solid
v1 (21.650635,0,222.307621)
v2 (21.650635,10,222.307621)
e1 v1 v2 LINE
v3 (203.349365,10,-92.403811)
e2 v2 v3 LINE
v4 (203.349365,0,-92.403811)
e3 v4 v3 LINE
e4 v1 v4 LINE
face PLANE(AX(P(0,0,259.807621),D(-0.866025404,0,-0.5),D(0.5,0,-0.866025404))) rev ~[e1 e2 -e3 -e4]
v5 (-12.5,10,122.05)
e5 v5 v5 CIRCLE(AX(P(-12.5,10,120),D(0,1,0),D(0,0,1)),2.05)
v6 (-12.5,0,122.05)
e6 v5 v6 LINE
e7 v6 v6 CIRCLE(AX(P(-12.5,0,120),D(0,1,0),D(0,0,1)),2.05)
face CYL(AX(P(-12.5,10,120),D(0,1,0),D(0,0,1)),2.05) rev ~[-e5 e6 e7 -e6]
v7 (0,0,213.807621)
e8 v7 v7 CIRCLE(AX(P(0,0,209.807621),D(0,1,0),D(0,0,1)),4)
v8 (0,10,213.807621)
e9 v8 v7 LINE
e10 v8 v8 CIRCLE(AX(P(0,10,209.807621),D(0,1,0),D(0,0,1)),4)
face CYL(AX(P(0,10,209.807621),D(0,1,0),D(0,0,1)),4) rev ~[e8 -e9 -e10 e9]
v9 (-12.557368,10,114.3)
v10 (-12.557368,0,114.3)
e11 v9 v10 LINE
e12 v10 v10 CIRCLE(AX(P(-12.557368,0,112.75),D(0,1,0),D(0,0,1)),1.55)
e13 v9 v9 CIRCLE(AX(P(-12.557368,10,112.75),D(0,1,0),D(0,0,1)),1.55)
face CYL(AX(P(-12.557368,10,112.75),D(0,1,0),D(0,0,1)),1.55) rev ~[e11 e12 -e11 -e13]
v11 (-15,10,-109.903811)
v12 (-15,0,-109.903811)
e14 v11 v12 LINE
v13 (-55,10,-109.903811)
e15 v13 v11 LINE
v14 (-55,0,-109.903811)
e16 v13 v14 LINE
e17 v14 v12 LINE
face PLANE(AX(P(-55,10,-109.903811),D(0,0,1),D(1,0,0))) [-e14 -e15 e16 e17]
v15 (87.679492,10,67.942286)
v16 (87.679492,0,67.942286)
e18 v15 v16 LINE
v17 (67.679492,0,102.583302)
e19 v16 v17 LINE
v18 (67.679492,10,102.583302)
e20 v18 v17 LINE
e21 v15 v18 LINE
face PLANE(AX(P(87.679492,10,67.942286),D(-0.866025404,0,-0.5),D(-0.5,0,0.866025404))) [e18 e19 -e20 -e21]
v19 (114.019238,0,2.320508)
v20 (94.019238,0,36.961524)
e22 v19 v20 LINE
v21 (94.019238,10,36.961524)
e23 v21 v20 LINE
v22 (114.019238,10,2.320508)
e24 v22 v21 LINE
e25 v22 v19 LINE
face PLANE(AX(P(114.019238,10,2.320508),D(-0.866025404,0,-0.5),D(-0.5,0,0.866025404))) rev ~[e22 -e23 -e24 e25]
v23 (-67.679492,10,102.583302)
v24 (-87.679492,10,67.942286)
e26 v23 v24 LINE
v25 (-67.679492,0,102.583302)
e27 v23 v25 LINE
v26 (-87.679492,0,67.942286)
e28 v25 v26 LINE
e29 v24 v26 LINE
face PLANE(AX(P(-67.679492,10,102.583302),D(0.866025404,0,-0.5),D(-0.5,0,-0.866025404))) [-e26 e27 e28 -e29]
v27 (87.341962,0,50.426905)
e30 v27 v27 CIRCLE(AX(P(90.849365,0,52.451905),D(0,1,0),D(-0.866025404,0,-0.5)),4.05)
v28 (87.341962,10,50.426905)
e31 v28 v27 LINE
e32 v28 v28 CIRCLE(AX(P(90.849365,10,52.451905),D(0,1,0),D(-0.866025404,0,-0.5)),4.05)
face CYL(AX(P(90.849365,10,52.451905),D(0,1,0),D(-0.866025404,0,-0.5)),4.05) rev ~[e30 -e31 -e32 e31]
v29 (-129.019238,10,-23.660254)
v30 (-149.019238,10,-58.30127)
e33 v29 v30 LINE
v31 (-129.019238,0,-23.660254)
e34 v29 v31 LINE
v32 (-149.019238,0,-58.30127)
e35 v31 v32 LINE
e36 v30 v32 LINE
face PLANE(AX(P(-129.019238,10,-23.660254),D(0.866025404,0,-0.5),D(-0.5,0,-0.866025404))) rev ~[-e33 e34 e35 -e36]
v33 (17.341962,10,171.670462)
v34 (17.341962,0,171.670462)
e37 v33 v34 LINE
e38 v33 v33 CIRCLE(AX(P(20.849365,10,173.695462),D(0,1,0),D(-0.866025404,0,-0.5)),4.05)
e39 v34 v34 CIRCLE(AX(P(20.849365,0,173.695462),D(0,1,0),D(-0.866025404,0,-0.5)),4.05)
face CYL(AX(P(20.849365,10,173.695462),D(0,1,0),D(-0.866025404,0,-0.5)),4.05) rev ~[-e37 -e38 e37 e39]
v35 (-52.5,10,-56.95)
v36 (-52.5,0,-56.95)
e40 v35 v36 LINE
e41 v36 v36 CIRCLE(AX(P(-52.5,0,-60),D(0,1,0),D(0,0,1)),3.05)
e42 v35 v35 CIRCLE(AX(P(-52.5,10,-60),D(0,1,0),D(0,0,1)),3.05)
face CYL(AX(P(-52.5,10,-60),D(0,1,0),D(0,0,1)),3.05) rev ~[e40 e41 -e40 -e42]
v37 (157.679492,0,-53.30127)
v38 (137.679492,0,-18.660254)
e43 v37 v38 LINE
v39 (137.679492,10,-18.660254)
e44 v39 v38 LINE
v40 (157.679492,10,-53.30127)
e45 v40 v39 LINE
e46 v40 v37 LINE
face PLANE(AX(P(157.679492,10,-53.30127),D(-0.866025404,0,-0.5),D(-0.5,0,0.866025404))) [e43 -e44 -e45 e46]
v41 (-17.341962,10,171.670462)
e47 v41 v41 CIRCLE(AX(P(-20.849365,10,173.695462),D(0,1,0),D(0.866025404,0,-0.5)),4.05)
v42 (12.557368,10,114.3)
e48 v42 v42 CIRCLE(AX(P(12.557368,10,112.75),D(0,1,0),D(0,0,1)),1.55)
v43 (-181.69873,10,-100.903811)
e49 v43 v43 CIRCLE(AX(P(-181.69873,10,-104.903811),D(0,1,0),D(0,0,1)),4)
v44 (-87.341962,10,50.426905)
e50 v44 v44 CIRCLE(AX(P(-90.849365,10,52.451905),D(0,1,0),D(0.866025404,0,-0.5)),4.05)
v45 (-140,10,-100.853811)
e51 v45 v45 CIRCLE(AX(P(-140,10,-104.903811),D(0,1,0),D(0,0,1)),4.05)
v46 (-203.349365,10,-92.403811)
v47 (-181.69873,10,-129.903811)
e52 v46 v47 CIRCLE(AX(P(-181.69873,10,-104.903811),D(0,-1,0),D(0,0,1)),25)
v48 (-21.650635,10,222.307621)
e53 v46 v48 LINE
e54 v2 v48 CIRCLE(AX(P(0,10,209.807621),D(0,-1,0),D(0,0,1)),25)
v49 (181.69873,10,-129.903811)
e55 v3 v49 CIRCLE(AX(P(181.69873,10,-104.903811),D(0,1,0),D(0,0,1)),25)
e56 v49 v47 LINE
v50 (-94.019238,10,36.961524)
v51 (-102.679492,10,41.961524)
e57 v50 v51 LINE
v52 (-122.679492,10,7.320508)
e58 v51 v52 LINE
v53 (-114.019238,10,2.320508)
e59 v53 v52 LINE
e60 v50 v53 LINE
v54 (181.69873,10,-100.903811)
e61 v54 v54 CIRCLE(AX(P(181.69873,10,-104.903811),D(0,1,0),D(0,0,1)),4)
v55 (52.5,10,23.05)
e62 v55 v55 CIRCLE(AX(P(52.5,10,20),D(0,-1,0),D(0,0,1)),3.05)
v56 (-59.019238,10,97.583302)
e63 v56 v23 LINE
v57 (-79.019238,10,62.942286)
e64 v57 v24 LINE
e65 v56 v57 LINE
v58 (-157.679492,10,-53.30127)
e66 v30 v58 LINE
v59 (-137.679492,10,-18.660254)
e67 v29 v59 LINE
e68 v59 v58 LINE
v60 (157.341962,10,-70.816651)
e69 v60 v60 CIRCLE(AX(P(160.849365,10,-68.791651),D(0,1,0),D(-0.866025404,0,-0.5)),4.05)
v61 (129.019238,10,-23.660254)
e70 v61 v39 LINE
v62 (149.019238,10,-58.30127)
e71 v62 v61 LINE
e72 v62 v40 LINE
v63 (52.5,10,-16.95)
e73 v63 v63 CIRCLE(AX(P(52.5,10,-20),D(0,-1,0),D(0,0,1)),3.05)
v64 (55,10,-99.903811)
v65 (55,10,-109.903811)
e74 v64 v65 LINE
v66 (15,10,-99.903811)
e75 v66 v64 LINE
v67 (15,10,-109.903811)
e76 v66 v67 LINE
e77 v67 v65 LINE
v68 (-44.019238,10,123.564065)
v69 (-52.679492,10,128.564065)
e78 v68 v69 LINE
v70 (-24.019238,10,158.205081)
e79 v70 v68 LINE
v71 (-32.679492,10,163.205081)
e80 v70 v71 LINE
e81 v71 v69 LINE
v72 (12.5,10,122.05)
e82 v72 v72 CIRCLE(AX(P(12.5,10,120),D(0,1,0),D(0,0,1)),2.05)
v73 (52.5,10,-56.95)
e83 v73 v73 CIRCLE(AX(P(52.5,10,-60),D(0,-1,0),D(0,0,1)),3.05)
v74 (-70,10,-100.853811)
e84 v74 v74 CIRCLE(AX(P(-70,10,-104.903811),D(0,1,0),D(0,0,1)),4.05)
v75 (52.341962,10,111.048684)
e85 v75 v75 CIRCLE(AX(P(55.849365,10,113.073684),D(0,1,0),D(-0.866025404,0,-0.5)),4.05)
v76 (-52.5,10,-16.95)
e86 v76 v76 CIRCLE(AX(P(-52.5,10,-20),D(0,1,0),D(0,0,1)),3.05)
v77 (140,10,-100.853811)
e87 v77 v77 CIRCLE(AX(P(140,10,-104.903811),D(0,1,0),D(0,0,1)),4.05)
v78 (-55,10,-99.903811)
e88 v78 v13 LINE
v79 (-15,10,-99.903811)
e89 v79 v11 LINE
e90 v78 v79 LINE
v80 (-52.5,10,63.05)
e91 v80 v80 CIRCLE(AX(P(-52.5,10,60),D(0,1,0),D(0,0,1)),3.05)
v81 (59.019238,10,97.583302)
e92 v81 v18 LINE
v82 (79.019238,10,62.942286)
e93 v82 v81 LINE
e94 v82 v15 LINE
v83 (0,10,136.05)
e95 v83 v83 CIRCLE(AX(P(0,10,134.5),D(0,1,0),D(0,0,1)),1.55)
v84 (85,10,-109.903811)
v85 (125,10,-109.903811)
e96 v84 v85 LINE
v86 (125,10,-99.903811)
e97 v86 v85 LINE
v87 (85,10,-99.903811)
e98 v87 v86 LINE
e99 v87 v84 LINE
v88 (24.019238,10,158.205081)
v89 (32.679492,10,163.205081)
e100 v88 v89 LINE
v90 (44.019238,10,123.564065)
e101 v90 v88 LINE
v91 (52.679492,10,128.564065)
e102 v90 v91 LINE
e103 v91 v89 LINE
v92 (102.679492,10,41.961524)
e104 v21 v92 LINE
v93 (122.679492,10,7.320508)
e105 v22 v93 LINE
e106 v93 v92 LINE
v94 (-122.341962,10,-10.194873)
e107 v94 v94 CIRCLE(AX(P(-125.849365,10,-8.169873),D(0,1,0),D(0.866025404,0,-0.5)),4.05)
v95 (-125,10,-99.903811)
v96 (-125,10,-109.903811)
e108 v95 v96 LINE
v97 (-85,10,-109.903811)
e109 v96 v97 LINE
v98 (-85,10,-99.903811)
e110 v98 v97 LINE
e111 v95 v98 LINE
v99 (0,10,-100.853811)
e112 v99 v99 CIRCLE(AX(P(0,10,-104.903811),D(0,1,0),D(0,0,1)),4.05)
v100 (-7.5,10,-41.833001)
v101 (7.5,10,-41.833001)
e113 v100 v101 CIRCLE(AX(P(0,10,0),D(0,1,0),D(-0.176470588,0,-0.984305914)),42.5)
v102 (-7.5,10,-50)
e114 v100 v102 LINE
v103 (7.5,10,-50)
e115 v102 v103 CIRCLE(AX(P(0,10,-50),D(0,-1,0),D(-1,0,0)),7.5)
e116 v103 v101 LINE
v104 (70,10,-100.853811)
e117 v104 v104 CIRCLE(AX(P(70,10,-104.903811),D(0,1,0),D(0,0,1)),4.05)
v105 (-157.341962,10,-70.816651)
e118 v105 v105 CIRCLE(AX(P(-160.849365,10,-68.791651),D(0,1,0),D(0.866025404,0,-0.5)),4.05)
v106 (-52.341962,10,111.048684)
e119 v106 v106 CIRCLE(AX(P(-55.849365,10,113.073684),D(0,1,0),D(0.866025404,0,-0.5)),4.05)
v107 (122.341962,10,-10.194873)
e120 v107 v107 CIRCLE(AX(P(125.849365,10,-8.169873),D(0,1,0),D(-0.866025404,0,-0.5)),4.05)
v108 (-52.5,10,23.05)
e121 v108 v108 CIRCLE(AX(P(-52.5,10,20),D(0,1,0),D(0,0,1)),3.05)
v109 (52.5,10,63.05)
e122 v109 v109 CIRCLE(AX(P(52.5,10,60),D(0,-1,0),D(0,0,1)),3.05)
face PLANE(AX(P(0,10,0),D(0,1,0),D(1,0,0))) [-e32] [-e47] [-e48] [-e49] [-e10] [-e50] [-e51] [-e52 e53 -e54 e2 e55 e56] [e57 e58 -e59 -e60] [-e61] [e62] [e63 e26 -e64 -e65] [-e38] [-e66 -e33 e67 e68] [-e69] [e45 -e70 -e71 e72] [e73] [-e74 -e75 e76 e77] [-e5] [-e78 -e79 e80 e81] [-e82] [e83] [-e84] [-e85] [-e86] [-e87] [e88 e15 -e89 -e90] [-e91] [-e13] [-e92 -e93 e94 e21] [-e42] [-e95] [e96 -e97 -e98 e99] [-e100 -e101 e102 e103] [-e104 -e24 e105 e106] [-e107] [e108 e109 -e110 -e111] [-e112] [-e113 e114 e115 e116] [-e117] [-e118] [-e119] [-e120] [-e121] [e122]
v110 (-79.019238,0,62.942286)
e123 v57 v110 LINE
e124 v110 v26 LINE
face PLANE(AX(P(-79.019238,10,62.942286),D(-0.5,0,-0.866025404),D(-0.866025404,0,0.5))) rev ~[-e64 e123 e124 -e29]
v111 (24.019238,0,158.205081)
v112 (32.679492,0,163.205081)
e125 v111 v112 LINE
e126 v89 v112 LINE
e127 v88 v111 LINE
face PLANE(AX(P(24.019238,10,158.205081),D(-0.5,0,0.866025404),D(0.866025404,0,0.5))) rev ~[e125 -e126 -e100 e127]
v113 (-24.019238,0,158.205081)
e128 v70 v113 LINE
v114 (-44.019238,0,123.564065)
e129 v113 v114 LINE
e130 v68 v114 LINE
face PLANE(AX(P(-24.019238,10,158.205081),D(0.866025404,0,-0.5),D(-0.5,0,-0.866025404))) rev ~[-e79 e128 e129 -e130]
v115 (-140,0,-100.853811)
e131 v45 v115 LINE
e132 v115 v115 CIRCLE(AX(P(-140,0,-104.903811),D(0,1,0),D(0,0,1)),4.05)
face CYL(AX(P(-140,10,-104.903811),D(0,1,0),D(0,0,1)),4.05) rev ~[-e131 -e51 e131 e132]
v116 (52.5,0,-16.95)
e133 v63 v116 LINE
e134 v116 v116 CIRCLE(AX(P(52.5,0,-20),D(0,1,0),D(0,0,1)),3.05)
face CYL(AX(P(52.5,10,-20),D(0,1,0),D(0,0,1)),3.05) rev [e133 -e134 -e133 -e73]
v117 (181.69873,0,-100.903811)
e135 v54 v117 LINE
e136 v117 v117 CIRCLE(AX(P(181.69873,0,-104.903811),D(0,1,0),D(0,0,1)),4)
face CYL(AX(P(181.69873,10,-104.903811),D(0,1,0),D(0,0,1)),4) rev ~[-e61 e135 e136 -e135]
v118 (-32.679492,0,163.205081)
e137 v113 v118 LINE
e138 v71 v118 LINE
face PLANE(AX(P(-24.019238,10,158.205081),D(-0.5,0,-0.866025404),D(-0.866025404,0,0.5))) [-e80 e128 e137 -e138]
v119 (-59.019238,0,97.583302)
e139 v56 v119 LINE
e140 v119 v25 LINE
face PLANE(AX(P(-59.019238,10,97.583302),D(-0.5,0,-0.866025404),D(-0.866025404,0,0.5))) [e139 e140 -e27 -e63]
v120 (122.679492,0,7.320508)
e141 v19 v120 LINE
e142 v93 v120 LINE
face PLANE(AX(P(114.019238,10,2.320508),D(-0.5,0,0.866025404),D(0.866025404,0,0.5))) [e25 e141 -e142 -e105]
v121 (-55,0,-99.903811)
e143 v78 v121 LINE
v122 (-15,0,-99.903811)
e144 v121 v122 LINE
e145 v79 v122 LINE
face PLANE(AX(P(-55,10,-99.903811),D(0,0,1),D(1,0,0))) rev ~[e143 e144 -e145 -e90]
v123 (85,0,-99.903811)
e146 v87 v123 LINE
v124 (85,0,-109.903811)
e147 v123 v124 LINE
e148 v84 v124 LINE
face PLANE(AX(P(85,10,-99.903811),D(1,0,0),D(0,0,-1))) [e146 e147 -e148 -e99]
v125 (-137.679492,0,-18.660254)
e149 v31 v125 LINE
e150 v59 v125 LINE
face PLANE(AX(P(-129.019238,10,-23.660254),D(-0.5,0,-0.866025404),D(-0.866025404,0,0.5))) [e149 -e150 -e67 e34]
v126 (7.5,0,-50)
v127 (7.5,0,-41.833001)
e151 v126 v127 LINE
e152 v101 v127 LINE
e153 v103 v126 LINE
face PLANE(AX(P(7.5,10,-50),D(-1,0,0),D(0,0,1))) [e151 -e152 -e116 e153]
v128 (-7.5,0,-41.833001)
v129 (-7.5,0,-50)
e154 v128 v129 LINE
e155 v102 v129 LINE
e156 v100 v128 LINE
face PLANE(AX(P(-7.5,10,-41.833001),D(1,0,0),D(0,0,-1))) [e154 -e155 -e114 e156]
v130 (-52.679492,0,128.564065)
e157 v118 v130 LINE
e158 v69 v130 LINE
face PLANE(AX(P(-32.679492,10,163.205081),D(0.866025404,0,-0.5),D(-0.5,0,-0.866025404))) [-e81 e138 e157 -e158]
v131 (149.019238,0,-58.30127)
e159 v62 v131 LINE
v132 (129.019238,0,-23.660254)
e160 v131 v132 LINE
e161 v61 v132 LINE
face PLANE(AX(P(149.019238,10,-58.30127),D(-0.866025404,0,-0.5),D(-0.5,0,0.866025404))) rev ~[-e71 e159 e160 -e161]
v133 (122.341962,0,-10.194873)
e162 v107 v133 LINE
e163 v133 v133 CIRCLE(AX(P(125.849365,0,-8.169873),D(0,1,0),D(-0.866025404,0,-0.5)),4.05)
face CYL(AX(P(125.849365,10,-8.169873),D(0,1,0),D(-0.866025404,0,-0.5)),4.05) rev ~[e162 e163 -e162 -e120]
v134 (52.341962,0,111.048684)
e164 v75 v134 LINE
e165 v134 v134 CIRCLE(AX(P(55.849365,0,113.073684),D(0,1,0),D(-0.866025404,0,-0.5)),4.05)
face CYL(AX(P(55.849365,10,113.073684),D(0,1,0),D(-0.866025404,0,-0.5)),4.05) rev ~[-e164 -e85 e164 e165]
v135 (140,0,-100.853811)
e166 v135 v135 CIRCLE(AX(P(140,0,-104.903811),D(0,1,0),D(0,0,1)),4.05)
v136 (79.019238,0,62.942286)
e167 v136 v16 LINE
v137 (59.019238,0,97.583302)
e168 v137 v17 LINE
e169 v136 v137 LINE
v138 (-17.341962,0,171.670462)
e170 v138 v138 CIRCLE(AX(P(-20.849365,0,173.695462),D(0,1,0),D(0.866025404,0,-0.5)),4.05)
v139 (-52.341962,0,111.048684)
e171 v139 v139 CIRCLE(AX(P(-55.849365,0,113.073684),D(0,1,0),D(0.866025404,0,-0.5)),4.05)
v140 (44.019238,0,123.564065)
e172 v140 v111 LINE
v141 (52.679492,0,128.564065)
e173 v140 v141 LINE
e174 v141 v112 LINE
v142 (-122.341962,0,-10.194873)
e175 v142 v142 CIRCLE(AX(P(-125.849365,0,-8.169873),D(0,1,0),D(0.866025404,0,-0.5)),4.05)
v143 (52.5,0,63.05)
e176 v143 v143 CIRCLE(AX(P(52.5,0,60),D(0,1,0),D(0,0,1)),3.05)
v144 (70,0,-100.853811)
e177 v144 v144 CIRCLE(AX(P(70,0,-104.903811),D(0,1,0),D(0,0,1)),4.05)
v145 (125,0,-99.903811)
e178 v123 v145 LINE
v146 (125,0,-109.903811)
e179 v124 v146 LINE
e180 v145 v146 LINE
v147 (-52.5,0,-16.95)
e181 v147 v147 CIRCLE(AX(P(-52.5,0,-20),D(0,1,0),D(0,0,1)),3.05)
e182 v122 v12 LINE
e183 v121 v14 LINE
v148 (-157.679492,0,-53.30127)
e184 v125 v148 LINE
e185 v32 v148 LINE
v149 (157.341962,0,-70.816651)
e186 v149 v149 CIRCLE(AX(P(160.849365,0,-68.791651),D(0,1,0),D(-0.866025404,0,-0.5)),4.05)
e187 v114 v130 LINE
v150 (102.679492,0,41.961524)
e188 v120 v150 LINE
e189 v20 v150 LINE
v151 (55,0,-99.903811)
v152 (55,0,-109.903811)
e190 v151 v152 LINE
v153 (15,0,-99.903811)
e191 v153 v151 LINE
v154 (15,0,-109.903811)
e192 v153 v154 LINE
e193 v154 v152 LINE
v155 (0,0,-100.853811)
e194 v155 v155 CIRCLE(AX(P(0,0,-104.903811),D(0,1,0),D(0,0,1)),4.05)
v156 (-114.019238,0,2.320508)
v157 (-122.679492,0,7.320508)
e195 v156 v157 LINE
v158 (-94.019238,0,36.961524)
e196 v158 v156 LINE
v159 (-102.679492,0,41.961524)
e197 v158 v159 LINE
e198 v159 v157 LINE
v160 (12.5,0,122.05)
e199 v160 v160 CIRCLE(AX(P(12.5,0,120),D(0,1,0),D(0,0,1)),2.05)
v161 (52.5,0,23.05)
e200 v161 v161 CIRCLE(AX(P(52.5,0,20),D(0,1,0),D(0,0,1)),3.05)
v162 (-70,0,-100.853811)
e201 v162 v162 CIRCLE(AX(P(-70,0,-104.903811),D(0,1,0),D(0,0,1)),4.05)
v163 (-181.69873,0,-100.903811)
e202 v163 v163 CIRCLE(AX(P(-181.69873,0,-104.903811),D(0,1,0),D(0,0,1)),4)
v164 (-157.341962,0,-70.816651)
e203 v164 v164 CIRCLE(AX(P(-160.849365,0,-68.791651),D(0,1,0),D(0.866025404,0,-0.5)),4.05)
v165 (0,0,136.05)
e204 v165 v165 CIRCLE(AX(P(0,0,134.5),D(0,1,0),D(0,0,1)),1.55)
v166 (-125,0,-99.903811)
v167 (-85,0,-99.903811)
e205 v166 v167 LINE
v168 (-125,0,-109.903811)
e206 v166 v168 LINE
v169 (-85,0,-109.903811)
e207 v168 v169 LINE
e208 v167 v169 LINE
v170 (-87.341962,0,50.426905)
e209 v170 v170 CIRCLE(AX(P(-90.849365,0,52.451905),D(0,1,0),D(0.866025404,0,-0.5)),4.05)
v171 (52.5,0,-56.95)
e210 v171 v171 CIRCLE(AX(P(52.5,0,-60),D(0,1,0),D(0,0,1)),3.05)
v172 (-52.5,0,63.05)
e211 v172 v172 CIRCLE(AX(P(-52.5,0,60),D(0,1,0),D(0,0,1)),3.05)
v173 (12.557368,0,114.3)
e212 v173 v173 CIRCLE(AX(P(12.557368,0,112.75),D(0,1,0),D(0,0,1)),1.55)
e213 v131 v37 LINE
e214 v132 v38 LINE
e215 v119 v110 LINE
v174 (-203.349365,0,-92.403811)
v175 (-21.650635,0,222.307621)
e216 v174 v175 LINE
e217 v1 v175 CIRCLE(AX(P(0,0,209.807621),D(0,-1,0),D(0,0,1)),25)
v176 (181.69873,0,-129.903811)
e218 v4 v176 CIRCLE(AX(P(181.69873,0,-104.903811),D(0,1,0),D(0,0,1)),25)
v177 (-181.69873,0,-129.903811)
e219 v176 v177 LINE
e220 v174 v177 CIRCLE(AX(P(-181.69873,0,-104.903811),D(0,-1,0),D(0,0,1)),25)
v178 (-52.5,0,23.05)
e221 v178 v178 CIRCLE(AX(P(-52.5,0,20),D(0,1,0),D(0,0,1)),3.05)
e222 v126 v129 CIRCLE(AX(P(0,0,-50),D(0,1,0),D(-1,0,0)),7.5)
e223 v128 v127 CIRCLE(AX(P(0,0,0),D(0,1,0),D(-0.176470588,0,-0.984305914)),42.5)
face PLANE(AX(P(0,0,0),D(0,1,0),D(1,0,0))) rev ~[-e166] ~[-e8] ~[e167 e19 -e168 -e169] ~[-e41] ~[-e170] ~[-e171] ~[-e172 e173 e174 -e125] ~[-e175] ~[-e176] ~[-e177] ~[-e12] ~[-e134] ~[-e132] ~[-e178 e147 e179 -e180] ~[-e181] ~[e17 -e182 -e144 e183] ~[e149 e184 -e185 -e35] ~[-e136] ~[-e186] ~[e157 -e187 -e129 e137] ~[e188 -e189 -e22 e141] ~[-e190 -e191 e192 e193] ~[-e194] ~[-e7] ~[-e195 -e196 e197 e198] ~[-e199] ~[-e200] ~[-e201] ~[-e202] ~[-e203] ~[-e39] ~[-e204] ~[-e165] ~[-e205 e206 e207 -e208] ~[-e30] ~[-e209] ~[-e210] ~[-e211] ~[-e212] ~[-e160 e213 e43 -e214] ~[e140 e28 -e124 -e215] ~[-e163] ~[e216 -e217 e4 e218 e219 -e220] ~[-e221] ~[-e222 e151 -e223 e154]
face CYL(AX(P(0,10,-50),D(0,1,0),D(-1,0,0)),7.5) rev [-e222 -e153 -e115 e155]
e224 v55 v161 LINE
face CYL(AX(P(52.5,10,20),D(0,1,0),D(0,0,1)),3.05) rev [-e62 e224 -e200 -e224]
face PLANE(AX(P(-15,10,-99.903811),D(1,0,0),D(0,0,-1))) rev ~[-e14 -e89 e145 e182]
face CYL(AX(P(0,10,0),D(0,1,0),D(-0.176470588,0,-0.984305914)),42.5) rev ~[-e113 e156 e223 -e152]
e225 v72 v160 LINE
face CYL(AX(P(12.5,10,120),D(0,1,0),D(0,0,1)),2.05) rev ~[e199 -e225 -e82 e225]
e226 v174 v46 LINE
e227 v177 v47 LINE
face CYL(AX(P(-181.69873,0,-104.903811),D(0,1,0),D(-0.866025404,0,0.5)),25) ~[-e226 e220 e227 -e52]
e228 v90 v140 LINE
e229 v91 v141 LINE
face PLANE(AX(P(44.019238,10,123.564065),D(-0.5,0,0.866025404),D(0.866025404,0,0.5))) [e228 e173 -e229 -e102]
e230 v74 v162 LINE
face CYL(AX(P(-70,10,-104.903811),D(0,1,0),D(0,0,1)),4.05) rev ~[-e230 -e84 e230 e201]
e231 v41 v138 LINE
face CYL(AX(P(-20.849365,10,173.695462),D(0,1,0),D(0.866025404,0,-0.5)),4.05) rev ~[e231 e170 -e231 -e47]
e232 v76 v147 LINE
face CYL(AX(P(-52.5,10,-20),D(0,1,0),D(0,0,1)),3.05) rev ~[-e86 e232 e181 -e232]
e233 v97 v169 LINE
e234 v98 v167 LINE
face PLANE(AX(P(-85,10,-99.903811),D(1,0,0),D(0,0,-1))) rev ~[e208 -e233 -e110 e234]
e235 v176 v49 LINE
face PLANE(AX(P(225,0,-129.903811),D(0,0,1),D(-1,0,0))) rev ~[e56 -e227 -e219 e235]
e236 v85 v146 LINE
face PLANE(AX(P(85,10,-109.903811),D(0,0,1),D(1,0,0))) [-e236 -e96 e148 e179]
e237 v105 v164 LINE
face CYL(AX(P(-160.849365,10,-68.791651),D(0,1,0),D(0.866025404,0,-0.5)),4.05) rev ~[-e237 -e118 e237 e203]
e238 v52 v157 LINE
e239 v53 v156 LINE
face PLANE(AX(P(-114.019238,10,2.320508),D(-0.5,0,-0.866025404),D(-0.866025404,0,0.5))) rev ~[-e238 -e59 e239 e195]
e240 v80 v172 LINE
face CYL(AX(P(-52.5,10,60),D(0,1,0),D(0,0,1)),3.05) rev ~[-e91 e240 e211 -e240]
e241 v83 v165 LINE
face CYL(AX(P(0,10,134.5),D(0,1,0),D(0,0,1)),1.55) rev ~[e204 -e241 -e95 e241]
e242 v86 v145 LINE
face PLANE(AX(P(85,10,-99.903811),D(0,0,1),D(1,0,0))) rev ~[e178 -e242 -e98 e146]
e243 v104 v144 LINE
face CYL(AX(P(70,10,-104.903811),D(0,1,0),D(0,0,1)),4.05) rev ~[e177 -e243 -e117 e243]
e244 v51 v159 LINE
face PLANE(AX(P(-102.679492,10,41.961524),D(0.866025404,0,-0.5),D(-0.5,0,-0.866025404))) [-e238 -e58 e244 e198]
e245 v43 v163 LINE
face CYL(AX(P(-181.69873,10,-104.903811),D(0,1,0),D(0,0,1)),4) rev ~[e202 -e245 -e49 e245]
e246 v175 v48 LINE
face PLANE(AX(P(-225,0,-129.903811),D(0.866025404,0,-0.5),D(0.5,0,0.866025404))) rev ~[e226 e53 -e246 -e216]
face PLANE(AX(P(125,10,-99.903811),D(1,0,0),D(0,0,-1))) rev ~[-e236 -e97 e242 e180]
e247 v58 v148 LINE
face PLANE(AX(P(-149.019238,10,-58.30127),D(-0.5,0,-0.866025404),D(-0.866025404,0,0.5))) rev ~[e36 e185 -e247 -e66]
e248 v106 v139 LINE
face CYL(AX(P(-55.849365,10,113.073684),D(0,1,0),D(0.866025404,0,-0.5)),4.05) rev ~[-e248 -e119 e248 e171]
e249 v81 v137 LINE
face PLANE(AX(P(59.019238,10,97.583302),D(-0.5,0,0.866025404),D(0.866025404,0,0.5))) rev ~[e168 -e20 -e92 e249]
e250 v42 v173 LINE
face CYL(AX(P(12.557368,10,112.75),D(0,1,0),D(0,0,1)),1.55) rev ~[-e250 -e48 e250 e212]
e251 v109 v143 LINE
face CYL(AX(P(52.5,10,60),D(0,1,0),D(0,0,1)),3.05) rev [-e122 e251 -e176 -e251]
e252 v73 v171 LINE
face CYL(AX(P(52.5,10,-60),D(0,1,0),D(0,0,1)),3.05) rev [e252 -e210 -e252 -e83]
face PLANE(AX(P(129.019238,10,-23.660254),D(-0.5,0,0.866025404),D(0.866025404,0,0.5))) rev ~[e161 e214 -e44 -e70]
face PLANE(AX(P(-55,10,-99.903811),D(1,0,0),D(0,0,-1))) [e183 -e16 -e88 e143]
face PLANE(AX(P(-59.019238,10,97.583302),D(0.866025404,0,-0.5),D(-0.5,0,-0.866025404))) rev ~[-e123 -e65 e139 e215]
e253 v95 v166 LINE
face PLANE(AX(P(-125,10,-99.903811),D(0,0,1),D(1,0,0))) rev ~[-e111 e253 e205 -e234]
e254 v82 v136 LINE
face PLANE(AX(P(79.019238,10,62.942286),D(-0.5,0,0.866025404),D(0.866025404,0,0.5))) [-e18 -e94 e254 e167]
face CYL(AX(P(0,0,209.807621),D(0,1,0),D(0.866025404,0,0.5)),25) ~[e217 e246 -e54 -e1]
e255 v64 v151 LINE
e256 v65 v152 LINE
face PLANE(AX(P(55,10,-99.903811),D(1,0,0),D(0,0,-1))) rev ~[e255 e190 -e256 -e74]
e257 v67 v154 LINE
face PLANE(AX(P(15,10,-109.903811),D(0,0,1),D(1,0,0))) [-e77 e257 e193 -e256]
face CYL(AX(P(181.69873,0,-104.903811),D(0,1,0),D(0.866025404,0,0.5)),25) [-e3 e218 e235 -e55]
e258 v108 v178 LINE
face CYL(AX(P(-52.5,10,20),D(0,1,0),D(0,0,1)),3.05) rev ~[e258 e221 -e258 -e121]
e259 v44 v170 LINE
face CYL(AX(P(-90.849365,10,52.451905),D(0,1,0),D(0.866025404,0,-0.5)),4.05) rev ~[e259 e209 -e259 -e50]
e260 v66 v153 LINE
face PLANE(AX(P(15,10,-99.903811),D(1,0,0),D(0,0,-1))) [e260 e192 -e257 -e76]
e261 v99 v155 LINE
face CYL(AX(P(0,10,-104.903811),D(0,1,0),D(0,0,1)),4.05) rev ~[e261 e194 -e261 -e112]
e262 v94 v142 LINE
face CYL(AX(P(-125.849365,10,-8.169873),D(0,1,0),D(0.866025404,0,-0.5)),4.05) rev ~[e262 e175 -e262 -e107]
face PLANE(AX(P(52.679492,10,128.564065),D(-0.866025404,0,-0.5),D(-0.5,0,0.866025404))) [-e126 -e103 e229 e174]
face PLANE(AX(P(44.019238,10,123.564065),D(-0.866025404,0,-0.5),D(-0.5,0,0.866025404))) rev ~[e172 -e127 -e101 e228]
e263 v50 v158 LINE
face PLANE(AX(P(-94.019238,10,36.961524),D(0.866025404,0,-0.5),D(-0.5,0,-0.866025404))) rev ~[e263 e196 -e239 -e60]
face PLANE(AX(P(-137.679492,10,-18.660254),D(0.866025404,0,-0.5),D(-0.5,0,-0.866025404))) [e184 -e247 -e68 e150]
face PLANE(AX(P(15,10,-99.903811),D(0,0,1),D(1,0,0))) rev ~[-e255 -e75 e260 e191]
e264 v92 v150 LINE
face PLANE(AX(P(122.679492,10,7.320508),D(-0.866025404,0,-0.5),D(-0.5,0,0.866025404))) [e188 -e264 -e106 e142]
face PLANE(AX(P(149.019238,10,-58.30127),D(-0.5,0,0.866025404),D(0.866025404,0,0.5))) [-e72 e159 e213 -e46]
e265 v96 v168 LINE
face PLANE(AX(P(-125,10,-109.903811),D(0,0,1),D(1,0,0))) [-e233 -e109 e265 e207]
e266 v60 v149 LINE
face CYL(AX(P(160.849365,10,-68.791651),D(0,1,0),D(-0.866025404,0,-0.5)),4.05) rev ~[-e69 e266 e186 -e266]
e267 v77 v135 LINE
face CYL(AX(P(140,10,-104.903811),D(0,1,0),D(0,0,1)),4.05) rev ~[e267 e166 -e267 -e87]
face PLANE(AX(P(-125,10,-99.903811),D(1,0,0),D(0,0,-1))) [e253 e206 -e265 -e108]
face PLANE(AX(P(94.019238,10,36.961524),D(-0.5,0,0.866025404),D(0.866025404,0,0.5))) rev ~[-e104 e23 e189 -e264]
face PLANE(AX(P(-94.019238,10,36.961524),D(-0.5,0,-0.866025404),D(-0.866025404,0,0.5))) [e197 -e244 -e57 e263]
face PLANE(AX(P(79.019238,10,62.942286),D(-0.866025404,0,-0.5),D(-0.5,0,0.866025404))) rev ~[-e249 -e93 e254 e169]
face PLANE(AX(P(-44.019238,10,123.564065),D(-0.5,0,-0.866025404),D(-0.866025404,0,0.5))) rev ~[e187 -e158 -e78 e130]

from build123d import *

# Parameters (mm, degrees)
BOSS_EXTRUDE1_DEPTH = 10
SKETCH2_R           = 3.05
CUT_EXTRUDE1_DEPTH  = 344.838624939
FILLET1_R           = 25
SKETCH3_R           = 4
CUT_EXTRUDE2_DEPTH  = 313.983999349
SKETCH4_R           = 4.05
SKETCH4_W           = 40
SKETCH4_H           = 10
CUT_EXTRUDE3_DEPTH  = 313.983999349
CIRPATTERN1_COUNT   = 3
SKETCH7_R           = 2.05
SKETCH7_R_2         = 1.55
CUT_EXTRUDE4_DEPTH  = 313.983999349
SKETCH8_R           = 42.5
CUT_EXTRUDE5_DEPTH  = 313.983999349


with BuildPart() as part:
    # Sketch1 → Boss-Extrude1 (new body)
    with BuildSketch(Plane(origin=(0, 0, 0), x_dir=(1, 0, 0), z_dir=(0, 1, 0))):
        Polygon((0, -259.807621135), (225, 129.903810568), (-225, 129.903810568), align=None)
    extrude(amount=BOSS_EXTRUDE1_DEPTH)

    # Sketch2 → Cut-Extrude1 (cut, through all)
    with BuildSketch(Plane(origin=(0, 10, 0), x_dir=(1, 0, 0), z_dir=(0, 1, 0))):
        with Locations(Location((-52.5, 60, 0), (0, 0, 270))):
            Circle(SKETCH2_R)
        with Locations(Location((-52.5, -60, 0), (0, 0, 270))):
            Circle(SKETCH2_R)
        with Locations(Location((-52.5, -20, 0), (0, 0, 270))):
            Circle(SKETCH2_R)
        with Locations(Location((-52.5, 20, 0), (0, 0, 270))):
            Circle(SKETCH2_R)
    cut_extrude1 = extrude(amount=-CUT_EXTRUDE1_DEPTH, mode=Mode.SUBTRACT)

    # Mirror1: Cut-Extrude1 across plane
    add(cut_extrude1.mirror(Plane(origin=(0, 0, 0), x_dir=(0, 0, 1), z_dir=(1, 0, 0))), mode=Mode.SUBTRACT)

    # Fillet1
    fillet1_edges = [part.edges().sort_by_distance(p)[0] for p in [
        (-225, 5, -129.903810568),
        (225, 5, -129.903810568),
        (0, 5, 259.807621135),
    ]]
    fillet(fillet1_edges, radius=FILLET1_R)

    # Sketch3 → Cut-Extrude2 (cut, through all)
    with BuildSketch(Plane(origin=(0, 10, 0), x_dir=(1, 0, 0), z_dir=(0, 1, 0))):
        with Locations(Location((0, -209.807621135, 0), (0, 0, 270))):
            Circle(SKETCH3_R)
        with Locations(Location((181.698729811, 104.903810568, 0), (0, 0, 270))):
            Circle(SKETCH3_R)
        with Locations(Location((-181.698729811, 104.903810568, 0), (0, 0, 270))):
            Circle(SKETCH3_R)
    extrude(amount=-CUT_EXTRUDE2_DEPTH, mode=Mode.SUBTRACT)

    # Sketch4 → Cut-Extrude3 (cut, through all)
    with BuildSketch(Plane(origin=(0, 10, 0), x_dir=(1, 0, 0), z_dir=(0, 1, 0))):
        with Locations(Location((0, 104.903810568, 0), (0, 0, 270))):
            Circle(SKETCH4_R)
        with Locations(Location((70, 104.903810568, 0), (0, 0, 270))):
            Circle(SKETCH4_R)
        with Locations(Location((140, 104.903810568, 0), (0, 0, 270))):
            Circle(SKETCH4_R)
        with Locations(Location((-140, 104.903810568, 0), (0, 0, 270))):
            Circle(SKETCH4_R)
        with Locations(Location((-70, 104.903810568, 0), (0, 0, 270))):
            Circle(SKETCH4_R)
        with Locations((35, 104.903810568)):
            Rectangle(SKETCH4_W, SKETCH4_H)
        with Locations((-35, 104.903810568)):
            Rectangle(SKETCH4_W, SKETCH4_H)
        with Locations((-105, 104.903810568)):
            Rectangle(SKETCH4_W, SKETCH4_H)
        with Locations((105, 104.903810568)):
            Rectangle(SKETCH4_W, SKETCH4_H)
    cut_extrude3 = extrude(amount=-CUT_EXTRUDE3_DEPTH, mode=Mode.SUBTRACT)

    # CirPattern1: Cut-Extrude3 ×3 about axis
    cirpattern1_axis = Axis((0, 0, 0), (0, 1, 0))
    for i in range(1, CIRPATTERN1_COUNT):
        add(cut_extrude3.rotate(cirpattern1_axis, i * 360 / CIRPATTERN1_COUNT), mode=Mode.SUBTRACT)

    # Sketch7 → Cut-Extrude4 (cut, through all)
    with BuildSketch(Plane(origin=(0, 10, 0), x_dir=(1, 0, 0), z_dir=(0, 1, 0))):
        with Locations(Location((-12.5, -120, 0), (0, 0, 270))):
            Circle(SKETCH7_R)
        with Locations(Location((12.5, -120, 0), (0, 0, 270))):
            Circle(SKETCH7_R)
        with Locations(Location((-12.557368355, -112.75, 0), (0, 0, 270))):
            Circle(SKETCH7_R_2)
        with Locations(Location((0, -134.5, 0), (0, 0, 270))):
            Circle(SKETCH7_R_2)
        with Locations(Location((12.557368355, -112.75, 0), (0, 0, 270))):
            Circle(SKETCH7_R_2)
    extrude(amount=-CUT_EXTRUDE4_DEPTH, mode=Mode.SUBTRACT)

    # Sketch8 → Cut-Extrude5 (cut, through all)
    with BuildSketch(Plane(origin=(0, 10, 0), x_dir=(1, 0, 0), z_dir=(0, 1, 0))):
        Circle(SKETCH8_R)
        with BuildLine():
            Line((-7.5, 35), (-7.5, 50))
            ThreePointArc((-7.5, 50), (0, 57.5), (7.5, 50))
            Line((7.5, 50), (7.5, 35))
            ThreePointArc((7.5, 35), (0, 27.5), (-7.5, 35))
        make_face()
    extrude(amount=-CUT_EXTRUDE5_DEPTH, mode=Mode.SUBTRACT)


solid = part.part
